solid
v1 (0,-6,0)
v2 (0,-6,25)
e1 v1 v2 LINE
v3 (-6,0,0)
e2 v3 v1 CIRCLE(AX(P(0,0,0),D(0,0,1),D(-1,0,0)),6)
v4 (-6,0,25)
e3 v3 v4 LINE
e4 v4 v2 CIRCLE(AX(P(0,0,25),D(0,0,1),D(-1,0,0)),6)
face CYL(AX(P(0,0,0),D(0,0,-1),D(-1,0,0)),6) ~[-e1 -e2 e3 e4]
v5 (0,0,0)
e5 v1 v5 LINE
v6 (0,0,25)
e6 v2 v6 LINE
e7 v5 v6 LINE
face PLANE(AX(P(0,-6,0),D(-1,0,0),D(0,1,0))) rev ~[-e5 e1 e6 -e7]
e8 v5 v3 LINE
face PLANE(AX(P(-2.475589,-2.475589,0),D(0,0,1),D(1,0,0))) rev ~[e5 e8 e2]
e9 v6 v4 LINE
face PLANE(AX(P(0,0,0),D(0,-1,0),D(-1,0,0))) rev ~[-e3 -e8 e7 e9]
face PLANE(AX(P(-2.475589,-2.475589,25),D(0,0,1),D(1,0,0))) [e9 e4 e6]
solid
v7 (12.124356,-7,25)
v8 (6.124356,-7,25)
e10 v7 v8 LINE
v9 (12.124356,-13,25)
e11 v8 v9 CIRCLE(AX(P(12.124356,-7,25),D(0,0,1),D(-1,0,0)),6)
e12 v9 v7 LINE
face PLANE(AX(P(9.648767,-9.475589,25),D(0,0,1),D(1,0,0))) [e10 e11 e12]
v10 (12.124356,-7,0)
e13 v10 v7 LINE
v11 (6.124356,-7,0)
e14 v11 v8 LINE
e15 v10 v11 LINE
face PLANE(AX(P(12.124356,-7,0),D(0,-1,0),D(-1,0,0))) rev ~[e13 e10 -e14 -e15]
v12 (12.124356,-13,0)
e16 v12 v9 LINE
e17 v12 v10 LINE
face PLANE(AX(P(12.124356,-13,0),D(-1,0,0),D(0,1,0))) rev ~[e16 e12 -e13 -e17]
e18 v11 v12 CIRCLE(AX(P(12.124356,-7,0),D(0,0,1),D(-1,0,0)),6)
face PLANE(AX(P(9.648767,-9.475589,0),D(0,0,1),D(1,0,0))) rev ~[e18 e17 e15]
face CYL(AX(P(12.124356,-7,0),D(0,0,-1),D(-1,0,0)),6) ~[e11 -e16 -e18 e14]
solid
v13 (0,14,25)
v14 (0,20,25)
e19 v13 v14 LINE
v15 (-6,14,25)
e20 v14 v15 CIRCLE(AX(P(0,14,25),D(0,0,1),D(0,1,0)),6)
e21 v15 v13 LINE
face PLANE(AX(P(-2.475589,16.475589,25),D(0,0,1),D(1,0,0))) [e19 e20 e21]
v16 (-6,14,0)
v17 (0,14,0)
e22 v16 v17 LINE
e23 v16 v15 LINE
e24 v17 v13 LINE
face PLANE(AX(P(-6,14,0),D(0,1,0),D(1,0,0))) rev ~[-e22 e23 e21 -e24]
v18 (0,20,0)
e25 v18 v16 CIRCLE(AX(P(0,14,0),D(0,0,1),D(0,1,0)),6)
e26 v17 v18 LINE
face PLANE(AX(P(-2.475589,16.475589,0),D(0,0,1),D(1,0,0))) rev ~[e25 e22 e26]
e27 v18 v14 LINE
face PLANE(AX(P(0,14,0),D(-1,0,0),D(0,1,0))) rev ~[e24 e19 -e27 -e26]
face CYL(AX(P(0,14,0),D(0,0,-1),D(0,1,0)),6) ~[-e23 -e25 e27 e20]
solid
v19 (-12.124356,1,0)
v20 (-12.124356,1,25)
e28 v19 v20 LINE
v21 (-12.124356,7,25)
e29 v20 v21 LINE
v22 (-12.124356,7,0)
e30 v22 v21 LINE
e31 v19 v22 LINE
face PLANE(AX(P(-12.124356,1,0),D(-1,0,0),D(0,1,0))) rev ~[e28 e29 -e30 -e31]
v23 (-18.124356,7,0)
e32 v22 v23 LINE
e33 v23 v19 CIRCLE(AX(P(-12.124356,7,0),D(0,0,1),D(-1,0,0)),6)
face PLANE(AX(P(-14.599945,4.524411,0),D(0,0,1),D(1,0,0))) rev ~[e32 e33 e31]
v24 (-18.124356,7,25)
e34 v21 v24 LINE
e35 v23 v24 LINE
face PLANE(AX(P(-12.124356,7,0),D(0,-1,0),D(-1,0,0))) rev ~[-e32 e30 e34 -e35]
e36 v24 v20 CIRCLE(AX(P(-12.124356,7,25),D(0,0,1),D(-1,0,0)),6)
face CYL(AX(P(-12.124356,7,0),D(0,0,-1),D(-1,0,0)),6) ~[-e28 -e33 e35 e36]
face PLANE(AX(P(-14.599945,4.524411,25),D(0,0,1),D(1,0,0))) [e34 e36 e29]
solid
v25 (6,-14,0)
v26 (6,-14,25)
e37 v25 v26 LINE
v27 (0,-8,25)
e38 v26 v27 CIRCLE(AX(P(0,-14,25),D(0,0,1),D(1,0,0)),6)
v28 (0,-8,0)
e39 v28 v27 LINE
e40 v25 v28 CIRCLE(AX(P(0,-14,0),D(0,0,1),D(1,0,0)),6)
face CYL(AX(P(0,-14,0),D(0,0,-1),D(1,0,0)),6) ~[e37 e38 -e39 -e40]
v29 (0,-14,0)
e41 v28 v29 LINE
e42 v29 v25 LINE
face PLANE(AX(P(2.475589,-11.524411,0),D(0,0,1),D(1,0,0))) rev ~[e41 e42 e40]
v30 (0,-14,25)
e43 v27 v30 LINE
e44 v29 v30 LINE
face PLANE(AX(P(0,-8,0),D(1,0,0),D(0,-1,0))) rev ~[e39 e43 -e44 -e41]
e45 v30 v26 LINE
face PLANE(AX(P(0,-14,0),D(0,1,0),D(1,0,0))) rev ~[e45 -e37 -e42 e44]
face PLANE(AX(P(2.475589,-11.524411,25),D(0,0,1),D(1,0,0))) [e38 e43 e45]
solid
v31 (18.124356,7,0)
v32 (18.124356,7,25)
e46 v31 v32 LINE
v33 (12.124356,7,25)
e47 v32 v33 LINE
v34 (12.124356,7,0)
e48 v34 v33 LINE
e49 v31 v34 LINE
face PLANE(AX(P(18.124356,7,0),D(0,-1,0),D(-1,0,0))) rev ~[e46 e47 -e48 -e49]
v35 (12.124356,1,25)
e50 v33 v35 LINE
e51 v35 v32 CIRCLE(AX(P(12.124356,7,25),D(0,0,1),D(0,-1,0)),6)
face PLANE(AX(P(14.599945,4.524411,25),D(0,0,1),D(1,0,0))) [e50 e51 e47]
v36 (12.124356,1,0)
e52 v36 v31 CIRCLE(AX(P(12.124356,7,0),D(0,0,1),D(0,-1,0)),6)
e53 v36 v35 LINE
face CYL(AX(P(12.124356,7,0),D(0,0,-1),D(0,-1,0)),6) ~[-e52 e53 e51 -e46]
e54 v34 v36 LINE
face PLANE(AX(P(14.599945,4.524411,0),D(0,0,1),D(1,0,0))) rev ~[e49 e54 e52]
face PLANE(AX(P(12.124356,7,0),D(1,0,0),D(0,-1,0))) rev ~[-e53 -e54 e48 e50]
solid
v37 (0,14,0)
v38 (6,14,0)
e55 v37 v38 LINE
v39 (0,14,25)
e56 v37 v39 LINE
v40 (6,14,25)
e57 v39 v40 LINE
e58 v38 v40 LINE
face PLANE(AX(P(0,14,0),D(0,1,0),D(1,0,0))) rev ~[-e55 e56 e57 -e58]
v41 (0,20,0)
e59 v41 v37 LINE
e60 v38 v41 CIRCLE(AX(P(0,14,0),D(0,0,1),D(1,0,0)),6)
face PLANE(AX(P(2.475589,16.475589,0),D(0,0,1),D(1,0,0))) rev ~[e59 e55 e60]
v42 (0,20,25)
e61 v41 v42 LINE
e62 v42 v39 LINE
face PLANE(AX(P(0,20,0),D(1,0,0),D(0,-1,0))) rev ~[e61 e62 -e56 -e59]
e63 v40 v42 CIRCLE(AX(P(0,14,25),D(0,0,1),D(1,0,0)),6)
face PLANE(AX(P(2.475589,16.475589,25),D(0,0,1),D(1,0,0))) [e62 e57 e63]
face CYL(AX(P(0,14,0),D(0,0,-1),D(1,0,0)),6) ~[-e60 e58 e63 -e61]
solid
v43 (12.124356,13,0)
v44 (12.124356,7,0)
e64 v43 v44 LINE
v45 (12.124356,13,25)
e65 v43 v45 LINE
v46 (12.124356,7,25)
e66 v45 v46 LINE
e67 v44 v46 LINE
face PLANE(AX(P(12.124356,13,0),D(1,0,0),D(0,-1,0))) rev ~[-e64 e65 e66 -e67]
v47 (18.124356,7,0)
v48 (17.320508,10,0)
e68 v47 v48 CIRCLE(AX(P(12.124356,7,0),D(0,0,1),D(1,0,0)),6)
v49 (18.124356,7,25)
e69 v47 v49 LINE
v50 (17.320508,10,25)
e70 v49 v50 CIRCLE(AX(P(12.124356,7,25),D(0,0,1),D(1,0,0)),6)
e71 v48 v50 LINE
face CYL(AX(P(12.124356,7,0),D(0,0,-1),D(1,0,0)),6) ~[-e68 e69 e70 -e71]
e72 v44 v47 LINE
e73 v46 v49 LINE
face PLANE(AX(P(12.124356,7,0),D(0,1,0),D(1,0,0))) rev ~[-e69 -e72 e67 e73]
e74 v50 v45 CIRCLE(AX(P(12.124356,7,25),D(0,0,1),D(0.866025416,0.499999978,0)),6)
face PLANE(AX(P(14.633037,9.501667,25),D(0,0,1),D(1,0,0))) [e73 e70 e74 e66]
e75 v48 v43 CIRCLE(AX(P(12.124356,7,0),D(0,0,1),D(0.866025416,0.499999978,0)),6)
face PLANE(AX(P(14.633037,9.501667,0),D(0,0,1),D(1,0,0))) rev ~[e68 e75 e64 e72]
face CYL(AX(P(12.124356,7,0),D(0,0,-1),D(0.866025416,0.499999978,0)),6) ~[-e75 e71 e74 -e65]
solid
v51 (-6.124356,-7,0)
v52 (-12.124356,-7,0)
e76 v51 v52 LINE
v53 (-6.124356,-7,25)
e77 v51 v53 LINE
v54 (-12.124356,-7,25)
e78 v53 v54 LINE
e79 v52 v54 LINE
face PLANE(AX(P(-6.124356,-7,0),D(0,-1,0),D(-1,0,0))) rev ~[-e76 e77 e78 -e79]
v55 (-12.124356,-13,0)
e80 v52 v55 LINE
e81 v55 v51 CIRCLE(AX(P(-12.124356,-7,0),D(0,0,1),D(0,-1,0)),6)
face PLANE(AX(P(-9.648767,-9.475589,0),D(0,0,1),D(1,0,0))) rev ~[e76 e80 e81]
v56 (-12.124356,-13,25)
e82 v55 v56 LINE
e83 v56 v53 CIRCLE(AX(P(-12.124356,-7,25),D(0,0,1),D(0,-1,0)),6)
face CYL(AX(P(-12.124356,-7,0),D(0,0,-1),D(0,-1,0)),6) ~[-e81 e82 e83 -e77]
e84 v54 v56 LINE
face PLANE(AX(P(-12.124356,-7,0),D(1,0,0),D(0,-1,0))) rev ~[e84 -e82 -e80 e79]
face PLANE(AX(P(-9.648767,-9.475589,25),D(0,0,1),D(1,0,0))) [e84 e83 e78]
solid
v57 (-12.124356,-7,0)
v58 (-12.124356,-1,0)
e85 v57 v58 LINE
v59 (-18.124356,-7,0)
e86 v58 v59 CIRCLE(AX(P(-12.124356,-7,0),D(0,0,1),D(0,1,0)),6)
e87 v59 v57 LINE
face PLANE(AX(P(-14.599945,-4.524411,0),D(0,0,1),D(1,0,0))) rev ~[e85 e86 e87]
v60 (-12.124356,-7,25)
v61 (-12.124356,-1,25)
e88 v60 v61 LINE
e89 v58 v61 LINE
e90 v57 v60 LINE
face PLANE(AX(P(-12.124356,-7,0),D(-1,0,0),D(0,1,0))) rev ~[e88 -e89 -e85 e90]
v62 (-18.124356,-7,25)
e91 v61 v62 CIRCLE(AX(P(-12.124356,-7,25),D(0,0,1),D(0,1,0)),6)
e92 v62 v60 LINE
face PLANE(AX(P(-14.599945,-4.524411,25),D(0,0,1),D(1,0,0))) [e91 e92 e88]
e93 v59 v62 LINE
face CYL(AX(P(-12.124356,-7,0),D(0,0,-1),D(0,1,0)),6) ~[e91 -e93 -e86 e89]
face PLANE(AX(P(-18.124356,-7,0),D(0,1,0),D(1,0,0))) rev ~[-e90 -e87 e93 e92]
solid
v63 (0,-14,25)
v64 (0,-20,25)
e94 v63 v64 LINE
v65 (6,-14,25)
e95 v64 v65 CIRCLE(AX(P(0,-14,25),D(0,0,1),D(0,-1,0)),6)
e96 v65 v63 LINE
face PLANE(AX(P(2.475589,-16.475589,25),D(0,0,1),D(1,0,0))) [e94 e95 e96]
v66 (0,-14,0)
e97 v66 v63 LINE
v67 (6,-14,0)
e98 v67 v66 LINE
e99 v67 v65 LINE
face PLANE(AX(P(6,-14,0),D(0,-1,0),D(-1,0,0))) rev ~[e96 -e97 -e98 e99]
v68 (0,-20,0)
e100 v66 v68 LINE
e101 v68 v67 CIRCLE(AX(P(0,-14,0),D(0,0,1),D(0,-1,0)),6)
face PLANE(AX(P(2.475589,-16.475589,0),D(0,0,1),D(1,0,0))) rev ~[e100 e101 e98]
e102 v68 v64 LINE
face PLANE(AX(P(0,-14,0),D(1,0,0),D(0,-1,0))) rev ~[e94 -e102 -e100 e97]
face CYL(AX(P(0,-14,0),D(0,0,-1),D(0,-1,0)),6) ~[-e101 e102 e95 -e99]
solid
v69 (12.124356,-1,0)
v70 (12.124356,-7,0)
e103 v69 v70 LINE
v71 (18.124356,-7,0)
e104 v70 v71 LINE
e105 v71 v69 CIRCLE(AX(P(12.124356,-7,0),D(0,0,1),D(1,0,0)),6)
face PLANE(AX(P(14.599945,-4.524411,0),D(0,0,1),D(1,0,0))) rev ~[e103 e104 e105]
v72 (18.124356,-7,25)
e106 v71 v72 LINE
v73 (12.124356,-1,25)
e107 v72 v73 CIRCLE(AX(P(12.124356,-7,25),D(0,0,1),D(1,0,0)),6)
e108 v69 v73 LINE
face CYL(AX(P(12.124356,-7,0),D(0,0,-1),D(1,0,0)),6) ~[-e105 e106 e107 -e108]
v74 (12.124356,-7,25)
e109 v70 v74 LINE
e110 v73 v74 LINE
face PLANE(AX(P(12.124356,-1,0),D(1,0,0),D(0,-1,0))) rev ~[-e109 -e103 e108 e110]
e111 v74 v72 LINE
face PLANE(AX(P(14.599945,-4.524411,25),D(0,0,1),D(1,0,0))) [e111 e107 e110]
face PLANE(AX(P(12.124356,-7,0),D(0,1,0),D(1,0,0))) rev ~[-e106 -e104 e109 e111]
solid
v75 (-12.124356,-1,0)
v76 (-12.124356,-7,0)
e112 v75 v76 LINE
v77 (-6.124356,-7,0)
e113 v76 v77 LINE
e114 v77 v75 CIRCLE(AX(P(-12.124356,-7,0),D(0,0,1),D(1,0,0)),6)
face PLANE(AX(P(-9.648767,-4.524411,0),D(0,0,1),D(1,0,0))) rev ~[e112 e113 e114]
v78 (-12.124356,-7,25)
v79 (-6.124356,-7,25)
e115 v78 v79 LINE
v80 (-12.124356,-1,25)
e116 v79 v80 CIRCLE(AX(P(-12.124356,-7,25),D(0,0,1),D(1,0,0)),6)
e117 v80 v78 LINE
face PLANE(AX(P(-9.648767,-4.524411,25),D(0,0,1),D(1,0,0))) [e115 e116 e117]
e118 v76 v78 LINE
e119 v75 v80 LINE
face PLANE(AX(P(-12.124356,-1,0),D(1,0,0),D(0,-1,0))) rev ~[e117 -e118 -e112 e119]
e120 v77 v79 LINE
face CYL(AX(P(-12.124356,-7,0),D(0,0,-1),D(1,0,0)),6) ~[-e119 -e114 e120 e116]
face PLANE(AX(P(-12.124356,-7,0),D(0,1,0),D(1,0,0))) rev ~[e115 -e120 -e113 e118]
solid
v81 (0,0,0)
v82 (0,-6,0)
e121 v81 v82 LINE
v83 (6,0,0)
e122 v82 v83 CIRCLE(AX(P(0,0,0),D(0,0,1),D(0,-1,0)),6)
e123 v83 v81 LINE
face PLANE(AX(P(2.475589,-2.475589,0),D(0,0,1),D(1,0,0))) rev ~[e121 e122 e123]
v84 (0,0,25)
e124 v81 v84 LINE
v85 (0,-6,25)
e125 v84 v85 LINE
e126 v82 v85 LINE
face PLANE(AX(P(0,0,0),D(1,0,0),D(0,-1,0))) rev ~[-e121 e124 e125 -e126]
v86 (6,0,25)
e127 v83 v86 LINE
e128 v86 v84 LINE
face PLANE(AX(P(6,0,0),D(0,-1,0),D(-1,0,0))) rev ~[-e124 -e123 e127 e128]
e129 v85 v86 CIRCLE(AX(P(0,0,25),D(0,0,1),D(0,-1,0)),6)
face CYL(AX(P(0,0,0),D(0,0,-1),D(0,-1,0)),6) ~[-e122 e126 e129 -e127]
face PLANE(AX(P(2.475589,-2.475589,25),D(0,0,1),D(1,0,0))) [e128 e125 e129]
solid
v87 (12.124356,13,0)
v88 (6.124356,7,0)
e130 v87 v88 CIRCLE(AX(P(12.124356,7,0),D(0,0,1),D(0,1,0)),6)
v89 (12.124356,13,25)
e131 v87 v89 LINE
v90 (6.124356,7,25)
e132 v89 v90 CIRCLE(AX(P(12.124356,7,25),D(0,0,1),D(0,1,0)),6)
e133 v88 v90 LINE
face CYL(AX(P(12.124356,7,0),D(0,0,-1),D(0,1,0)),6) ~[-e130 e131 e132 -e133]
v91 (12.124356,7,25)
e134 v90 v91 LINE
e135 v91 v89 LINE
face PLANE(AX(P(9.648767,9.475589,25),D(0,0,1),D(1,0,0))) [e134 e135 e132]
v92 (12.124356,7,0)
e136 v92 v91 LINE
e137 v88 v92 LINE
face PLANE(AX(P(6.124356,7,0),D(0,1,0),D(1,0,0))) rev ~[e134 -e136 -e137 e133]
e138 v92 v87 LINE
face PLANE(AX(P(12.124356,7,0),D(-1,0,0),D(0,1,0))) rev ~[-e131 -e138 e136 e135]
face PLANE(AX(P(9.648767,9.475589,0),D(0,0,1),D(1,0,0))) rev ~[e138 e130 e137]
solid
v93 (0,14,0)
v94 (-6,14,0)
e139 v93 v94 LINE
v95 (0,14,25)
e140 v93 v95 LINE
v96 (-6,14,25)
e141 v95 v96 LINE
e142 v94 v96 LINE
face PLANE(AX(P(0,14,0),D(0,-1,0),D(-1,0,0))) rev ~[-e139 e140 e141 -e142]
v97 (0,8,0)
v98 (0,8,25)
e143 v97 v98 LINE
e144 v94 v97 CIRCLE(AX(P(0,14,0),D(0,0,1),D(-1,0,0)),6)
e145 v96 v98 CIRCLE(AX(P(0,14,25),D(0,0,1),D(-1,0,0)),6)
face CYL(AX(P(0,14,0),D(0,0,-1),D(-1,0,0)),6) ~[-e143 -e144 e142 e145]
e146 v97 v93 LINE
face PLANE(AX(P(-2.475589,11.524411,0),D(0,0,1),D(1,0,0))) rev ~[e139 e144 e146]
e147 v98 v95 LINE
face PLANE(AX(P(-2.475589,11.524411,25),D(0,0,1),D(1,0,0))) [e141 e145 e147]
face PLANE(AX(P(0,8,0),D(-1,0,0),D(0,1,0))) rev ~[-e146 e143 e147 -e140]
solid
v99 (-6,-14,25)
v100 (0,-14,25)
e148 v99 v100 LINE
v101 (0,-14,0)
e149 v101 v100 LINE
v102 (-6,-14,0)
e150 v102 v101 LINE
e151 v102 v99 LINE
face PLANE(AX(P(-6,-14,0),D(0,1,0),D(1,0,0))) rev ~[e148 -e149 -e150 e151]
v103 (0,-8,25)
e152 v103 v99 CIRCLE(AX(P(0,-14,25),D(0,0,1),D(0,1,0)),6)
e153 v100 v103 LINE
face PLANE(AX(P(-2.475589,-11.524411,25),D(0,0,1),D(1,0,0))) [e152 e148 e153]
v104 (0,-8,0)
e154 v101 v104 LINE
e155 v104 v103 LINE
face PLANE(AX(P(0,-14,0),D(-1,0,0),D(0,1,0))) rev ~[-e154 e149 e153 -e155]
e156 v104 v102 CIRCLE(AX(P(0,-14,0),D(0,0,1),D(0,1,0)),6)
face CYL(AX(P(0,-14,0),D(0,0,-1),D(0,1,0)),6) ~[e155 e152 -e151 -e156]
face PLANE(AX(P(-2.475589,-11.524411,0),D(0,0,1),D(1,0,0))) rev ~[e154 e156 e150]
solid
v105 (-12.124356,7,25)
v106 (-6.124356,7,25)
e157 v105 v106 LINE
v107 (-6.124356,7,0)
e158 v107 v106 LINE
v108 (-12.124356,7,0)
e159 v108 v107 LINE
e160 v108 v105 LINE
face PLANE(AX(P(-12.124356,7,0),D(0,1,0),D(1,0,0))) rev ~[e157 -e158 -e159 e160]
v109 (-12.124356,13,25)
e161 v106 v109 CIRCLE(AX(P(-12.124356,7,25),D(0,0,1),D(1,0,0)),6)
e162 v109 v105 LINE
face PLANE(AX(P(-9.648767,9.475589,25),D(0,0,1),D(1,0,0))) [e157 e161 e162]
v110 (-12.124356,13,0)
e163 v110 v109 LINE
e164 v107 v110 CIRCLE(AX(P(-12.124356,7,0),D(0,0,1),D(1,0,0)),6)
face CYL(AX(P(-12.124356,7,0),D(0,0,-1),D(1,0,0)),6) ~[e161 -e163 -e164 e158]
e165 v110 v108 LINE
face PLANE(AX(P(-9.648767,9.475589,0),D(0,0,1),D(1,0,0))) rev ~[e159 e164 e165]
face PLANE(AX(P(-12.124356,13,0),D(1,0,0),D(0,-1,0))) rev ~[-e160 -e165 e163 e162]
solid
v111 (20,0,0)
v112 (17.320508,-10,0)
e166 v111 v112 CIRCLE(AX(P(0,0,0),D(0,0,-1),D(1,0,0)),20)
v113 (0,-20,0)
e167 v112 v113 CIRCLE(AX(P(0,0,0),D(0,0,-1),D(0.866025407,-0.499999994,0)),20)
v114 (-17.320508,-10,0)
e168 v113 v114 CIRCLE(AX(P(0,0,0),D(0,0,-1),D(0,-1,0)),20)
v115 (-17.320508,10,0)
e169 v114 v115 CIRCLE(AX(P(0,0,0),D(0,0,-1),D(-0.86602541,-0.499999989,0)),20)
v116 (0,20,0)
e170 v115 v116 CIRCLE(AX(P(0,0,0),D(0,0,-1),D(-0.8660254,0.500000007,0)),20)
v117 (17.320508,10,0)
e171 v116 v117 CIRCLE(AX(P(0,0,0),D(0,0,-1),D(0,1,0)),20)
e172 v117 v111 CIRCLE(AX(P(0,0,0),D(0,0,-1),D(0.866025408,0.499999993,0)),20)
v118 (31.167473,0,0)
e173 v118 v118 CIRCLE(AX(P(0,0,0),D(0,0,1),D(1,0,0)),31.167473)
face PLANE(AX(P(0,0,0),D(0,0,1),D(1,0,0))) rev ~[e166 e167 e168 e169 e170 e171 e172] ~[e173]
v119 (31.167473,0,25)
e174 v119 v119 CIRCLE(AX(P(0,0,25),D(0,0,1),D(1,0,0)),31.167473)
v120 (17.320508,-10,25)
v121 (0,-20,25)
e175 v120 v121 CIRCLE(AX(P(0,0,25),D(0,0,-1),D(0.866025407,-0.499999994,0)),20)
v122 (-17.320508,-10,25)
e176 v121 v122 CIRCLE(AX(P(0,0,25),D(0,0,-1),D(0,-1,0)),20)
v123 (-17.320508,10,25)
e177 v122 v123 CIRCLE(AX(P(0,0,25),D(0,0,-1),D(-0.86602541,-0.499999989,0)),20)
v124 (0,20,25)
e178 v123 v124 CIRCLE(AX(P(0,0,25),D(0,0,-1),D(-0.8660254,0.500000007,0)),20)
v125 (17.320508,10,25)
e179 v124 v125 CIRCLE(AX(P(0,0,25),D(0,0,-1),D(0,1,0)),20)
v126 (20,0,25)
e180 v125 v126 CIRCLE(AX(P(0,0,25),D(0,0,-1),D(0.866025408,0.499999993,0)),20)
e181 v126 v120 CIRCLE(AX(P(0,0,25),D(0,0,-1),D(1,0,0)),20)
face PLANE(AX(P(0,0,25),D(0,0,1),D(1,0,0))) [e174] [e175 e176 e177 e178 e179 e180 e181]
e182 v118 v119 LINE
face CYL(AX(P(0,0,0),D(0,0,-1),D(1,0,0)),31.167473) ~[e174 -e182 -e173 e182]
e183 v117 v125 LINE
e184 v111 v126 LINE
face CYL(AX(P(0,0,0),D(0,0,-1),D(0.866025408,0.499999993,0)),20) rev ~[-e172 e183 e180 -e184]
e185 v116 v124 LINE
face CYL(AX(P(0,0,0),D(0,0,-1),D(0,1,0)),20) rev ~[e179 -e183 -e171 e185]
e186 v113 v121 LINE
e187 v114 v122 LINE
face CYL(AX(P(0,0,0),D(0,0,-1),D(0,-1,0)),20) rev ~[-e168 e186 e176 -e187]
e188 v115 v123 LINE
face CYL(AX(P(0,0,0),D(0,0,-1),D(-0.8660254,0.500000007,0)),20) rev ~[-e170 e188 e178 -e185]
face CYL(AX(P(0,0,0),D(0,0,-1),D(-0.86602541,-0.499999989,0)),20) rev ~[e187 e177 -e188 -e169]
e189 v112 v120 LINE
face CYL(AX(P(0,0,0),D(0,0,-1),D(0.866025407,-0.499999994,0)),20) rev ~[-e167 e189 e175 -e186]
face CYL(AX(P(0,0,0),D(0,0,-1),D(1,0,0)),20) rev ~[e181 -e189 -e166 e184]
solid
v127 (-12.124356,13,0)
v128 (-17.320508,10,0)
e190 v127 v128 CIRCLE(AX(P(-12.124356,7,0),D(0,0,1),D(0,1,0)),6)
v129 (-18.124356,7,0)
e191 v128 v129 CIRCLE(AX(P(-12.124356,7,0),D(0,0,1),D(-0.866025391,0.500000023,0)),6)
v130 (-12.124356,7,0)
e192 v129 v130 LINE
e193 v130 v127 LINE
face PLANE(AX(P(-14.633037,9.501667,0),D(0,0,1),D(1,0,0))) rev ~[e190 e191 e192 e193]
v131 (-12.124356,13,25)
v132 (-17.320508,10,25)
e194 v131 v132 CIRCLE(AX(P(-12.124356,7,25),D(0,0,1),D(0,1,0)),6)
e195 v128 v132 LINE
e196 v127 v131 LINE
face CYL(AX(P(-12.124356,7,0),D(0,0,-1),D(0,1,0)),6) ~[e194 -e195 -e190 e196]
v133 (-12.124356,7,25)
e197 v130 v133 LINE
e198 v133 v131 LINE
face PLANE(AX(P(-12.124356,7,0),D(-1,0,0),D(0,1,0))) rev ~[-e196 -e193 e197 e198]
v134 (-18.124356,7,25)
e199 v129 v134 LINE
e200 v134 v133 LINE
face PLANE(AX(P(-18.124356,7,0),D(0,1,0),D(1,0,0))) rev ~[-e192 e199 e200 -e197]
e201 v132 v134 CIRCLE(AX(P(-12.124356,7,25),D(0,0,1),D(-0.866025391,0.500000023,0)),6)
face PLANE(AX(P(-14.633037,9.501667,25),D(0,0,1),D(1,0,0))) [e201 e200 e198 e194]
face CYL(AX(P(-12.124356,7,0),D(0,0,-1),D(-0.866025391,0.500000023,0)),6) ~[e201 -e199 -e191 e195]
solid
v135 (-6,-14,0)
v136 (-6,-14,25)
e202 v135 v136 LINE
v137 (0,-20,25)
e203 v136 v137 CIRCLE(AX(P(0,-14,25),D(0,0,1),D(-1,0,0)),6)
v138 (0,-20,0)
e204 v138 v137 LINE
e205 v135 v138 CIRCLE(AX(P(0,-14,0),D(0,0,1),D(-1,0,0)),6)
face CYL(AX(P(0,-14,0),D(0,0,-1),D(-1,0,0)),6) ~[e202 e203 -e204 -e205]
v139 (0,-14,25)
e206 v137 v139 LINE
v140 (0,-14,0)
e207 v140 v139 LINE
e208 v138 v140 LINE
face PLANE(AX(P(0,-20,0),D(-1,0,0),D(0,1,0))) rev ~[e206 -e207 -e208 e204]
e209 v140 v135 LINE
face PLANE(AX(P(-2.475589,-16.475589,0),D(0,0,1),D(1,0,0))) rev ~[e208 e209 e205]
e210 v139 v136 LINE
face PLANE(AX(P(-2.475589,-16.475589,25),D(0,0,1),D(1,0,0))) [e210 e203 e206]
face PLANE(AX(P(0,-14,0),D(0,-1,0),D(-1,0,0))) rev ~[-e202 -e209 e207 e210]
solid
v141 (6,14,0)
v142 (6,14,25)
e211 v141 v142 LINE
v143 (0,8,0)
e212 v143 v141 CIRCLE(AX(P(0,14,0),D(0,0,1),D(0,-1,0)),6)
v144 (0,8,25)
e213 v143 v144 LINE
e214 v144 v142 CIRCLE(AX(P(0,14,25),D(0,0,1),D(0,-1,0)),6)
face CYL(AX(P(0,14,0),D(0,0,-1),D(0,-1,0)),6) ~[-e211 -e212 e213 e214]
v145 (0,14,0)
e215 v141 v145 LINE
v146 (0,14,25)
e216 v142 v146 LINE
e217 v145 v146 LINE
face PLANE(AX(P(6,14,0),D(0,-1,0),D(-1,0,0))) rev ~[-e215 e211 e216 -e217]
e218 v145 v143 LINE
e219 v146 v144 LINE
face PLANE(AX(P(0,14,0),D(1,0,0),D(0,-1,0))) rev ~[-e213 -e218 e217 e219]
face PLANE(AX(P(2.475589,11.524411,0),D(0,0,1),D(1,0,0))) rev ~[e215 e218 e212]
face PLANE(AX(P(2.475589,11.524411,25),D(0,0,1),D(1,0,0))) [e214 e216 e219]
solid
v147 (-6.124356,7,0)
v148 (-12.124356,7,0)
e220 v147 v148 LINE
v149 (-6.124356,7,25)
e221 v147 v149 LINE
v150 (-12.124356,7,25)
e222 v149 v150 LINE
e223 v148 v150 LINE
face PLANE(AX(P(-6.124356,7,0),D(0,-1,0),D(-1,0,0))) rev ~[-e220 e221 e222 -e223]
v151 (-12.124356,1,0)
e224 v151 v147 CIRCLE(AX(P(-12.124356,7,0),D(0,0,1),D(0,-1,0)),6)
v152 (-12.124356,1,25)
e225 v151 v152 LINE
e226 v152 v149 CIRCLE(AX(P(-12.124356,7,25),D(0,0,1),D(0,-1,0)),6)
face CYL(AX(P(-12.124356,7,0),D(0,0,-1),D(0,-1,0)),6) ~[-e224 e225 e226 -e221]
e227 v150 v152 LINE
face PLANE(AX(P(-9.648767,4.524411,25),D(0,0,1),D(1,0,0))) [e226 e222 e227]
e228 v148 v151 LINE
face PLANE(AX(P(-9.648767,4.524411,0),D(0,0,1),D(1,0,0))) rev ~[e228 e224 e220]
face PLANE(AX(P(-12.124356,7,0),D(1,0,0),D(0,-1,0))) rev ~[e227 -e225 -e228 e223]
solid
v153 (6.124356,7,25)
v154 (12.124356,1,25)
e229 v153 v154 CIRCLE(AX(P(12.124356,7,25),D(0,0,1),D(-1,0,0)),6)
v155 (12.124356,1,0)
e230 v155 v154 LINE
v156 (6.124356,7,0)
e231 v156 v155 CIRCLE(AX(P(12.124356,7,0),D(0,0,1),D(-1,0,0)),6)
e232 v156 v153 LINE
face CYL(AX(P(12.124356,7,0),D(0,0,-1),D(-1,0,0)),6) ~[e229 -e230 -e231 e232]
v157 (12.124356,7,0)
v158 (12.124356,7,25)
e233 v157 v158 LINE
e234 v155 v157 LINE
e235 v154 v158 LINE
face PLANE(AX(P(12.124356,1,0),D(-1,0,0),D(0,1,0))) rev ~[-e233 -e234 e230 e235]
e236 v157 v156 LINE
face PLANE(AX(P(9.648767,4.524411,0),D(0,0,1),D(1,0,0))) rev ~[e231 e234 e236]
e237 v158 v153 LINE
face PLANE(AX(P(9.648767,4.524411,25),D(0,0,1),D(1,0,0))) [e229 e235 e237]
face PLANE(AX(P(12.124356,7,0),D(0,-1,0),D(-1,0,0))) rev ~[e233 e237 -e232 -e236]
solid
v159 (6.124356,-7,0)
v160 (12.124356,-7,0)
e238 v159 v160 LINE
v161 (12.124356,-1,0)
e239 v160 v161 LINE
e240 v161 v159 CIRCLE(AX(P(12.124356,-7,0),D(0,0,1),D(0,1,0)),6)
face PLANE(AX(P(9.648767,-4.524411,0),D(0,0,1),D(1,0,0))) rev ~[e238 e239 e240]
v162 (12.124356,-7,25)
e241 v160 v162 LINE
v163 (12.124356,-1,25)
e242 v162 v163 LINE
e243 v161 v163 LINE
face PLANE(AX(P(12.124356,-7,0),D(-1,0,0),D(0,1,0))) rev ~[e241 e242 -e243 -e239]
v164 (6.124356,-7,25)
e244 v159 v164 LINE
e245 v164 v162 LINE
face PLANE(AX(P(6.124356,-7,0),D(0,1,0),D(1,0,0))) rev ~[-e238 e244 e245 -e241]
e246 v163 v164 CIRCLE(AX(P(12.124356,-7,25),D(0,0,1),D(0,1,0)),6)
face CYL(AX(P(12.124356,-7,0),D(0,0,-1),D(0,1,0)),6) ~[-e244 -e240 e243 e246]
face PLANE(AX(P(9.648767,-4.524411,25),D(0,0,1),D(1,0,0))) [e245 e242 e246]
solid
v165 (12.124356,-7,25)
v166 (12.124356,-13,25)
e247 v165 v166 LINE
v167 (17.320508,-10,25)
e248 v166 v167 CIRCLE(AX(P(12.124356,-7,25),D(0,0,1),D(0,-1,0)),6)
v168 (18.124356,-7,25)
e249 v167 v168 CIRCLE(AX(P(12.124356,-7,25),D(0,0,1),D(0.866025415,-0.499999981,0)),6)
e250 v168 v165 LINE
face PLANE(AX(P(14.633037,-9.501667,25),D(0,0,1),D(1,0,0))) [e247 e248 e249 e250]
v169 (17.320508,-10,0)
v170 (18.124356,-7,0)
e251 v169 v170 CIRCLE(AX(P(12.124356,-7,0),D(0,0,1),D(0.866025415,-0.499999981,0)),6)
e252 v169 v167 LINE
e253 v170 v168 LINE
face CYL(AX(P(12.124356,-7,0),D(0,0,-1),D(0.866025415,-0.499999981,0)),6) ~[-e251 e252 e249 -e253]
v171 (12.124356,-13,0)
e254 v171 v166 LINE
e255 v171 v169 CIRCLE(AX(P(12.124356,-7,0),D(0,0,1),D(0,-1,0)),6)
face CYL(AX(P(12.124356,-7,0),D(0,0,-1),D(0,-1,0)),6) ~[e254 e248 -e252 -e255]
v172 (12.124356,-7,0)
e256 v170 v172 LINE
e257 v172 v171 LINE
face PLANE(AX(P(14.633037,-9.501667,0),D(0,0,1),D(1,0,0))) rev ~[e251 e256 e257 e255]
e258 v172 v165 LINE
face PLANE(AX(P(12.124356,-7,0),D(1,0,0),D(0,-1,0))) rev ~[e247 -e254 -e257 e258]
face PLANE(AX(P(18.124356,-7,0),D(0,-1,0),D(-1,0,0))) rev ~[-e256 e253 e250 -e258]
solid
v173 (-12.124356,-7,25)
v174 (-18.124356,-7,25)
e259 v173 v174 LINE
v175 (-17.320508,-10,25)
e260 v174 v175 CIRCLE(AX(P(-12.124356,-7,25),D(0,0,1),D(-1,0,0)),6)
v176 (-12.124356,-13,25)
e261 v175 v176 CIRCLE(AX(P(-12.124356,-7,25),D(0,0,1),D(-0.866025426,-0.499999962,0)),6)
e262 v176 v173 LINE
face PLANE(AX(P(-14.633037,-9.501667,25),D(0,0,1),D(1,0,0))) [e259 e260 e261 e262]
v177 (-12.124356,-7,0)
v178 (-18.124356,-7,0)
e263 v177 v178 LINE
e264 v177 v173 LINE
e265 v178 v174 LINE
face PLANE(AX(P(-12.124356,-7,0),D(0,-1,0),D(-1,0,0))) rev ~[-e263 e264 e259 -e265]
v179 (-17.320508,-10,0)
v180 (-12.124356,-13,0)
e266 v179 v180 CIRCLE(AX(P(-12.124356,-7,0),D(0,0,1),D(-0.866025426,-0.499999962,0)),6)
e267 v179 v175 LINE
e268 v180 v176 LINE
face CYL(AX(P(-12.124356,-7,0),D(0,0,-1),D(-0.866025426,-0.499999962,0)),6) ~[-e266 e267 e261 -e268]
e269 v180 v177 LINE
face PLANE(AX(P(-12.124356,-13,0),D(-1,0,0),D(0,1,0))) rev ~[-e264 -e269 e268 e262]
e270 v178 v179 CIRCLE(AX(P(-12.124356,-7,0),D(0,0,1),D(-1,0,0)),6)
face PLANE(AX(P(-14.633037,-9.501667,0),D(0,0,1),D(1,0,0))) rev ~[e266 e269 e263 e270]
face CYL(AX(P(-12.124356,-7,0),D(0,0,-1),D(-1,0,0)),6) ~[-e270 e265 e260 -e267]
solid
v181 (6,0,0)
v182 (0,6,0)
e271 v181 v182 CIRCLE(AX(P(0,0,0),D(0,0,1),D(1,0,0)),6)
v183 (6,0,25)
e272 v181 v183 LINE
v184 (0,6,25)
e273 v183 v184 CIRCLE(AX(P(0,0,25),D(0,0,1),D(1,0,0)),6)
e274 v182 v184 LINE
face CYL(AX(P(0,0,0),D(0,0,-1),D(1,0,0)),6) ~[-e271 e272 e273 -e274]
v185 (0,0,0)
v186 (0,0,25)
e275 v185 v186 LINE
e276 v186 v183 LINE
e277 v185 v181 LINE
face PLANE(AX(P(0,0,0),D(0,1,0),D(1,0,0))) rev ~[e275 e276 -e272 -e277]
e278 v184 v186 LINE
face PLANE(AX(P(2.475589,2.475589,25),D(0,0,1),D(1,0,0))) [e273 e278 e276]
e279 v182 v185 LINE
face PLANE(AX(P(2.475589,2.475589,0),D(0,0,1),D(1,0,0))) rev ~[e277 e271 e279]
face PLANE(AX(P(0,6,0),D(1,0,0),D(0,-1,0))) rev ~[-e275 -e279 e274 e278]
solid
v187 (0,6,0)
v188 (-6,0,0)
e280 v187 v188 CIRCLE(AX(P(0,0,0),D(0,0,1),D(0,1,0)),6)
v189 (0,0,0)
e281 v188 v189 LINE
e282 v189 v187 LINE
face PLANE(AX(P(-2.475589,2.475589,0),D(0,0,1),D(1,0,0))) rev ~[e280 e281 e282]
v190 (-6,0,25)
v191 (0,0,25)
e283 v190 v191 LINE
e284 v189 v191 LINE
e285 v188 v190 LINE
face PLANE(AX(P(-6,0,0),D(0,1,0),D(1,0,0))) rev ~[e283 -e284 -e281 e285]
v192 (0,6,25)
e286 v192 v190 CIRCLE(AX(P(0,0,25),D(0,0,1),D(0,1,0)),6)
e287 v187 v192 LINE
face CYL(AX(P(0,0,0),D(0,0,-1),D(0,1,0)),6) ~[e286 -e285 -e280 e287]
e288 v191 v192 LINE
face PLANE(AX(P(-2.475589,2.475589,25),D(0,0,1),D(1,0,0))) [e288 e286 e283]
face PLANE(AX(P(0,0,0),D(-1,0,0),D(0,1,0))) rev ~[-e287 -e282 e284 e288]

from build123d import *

# Parameters (mm, degrees)
F1_DEPTH = 25
F2_DEPTH = 25
F0_R     = 31.1674729763
F3_DEPTH = 25


with BuildPart() as f1:
    # F0 (on Top) → F1 (new body)
    with BuildSketch(Plane.XY):
        with BuildLine():
            Line((0, -14), (0, -20))
            ThreePointArc((0, -20), (4.2426406871, -18.2426406871), (6, -14))
            Line((6, -14), (0, -14))
        make_face()
    extrude(amount=F1_DEPTH)


with BuildPart() as f1b:
    # F0 (on Top) → F1, piece 2 (new body)
    with BuildSketch(Plane.XY):
        with BuildLine():
            ThreePointArc((0, -8), (-4.2426406871, -9.7573593129), (-6, -14))
            Line((-6, -14), (0, -14))
            Line((0, -14), (0, -8))
        make_face()
    extrude(amount=F1_DEPTH)


with BuildPart() as f1c:
    # F0 (on Top) → F1, piece 3 (new body)
    with BuildSketch(Plane.XY):
        with BuildLine():
            ThreePointArc((-12.124355653, 1), (-7.8817149659, 2.7573593129), (-6.124355653, 7))
            Line((-6.124355653, 7), (-12.124355653, 7))
            Line((-12.124355653, 7), (-12.124355653, 1))
        make_face()
    extrude(amount=F1_DEPTH)


with BuildPart() as f1d:
    # F0 (on Top) → F1, piece 4 (new body)
    with BuildSketch(Plane.XY):
        with BuildLine():
            Line((0, 0), (0, 6))
            ThreePointArc((0, 6), (-4.2426406871, 4.2426406871), (-6, 0))
            Line((-6, 0), (0, 0))
        make_face()
    extrude(amount=F1_DEPTH)


with BuildPart() as f1e:
    # F0 (on Top) → F1, piece 5 (new body)
    with BuildSketch(Plane.XY):
        with BuildLine():
            ThreePointArc((0, -6), (4.2426406871, -4.2426406871), (6, 0))
            Line((6, 0), (0, 0))
            Line((0, 0), (0, -6))
        make_face()
    extrude(amount=F1_DEPTH)


with BuildPart() as f1f:
    # F0 (on Top) → F1, piece 6 (new body)
    with BuildSketch(Plane.XY):
        with BuildLine():
            Line((0, 14), (0, 20))
            ThreePointArc((0, 20), (-4.2426406871, 18.2426406871), (-6, 14))
            Line((-6, 14), (0, 14))
        make_face()
    extrude(amount=F1_DEPTH)


with BuildPart() as f1g:
    # F0 (on Top) → F1, piece 7 (new body)
    with BuildSketch(Plane.XY):
        with BuildLine():
            ThreePointArc((0, 8), (4.2426406871, 9.7573593129), (6, 14))
            Line((6, 14), (0, 14))
            Line((0, 14), (0, 8))
        make_face()
    extrude(amount=F1_DEPTH)


with BuildPart() as f1h:
    # F0 (on Top) → F1, piece 8 (new body)
    with BuildSketch(Plane.XY):
        with BuildLine():
            ThreePointArc((-12.124355653, 13), (-15.1243555847, 12.1961524621), (-17.3205079969, 10.0000001365))
            ThreePointArc((-17.3205079969, 10.0000001365), (-17.9199105903, 8.5529143467), (-18.124355653, 7))
            Line((-18.124355653, 7), (-12.124355653, 7))
            Line((-12.124355653, 7), (-12.124355653, 13))
        make_face()
    extrude(amount=F1_DEPTH)


with BuildPart() as f1i:
    # F0 (on Top) → F1, piece 9 (new body)
    with BuildSketch(Plane.XY):
        with BuildLine():
            Line((-12.124355653, -7), (-12.124355653, -13))
            ThreePointArc((-12.124355653, -13), (-7.8817149659, -11.2426406871), (-6.124355653, -7))
            Line((-6.124355653, -7), (-12.124355653, -7))
        make_face()
    extrude(amount=F1_DEPTH)


with BuildPart() as f1j:
    # F0 (on Top) → F1, piece 10 (new body)
    with BuildSketch(Plane.XY):
        with BuildLine():
            ThreePointArc((-12.124355653, -1), (-16.3669963401, -2.7573593129), (-18.124355653, -7))
            Line((-18.124355653, -7), (-12.124355653, -7))
            Line((-12.124355653, -7), (-12.124355653, -1))
        make_face()
    extrude(amount=F1_DEPTH)


with BuildPart() as f1k:
    # F0 (on Top) → F1, piece 11 (new body)
    with BuildSketch(Plane.XY):
        with BuildLine():
            ThreePointArc((12.124355653, 1), (16.3669963401, 2.7573593129), (18.124355653, 7))
            Line((18.124355653, 7), (12.124355653, 7))
            Line((12.124355653, 7), (12.124355653, 1))
        make_face()
    extrude(amount=F1_DEPTH)


with BuildPart() as f1l:
    # F0 (on Top) → F1, piece 12 (new body)
    with BuildSketch(Plane.XY):
        with BuildLine():
            ThreePointArc((12.124355653, -13), (15.1243557101, -12.1961523897), (17.3205081416, -9.9999998858))
            ThreePointArc((17.3205081416, -9.9999998858), (17.9199106278, -8.5529142069), (18.124355653, -7))
            Line((18.124355653, -7), (12.124355653, -7))
            Line((12.124355653, -7), (12.124355653, -13))
        make_face()
    extrude(amount=F1_DEPTH)


with BuildPart() as f1m:
    # F0 (on Top) → F1, piece 13 (new body)
    with BuildSketch(Plane.XY):
        with BuildLine():
            ThreePointArc((12.124355653, -1), (7.8817149659, -2.7573593129), (6.124355653, -7))
            Line((6.124355653, -7), (12.124355653, -7))
            Line((12.124355653, -7), (12.124355653, -1))
        make_face()
    extrude(amount=F1_DEPTH)


with BuildPart() as f1n:
    # F0 (on Top) → F1, piece 14 (new body)
    with BuildSketch(Plane.XY):
        with BuildLine():
            Line((12.124355653, 7), (12.124355653, 13))
            ThreePointArc((12.124355653, 13), (7.8817149659, 11.2426406871), (6.124355653, 7))
            Line((6.124355653, 7), (12.124355653, 7))
        make_face()
    extrude(amount=F1_DEPTH)


with BuildPart() as f2:
    # F0 (on Top) → F2 (new body)
    with BuildSketch(Plane.XY):
        with BuildLine():
            Line((-12.124355653, 7), (-18.124355653, 7))
            ThreePointArc((-18.124355653, 7), (-16.3669963401, 2.7573593129), (-12.124355653, 1))
            Line((-12.124355653, 1), (-12.124355653, 7))
        make_face()
    extrude(amount=F2_DEPTH)


with BuildPart() as f2b:
    # F0 (on Top) → F2, piece 2 (new body)
    with BuildSketch(Plane.XY):
        with BuildLine():
            ThreePointArc((-6.124355653, 7), (-7.8817149659, 11.2426406871), (-12.124355653, 13))
            Line((-12.124355653, 13), (-12.124355653, 7))
            Line((-12.124355653, 7), (-6.124355653, 7))
        make_face()
    extrude(amount=F2_DEPTH)


with BuildPart() as f2c:
    # F0 (on Top) → F2, piece 3 (new body)
    with BuildSketch(Plane.XY):
        with BuildLine():
            ThreePointArc((6, 14), (4.2426406871, 18.2426406871), (0, 20))
            Line((0, 20), (0, 14))
            Line((0, 14), (6, 14))
        make_face()
    extrude(amount=F2_DEPTH)


with BuildPart() as f2d:
    # F0 (on Top) → F2, piece 4 (new body)
    with BuildSketch(Plane.XY):
        with BuildLine():
            Line((0, 14), (-6, 14))
            ThreePointArc((-6, 14), (-4.2426406871, 9.7573593129), (0, 8))
            Line((0, 8), (0, 14))
        make_face()
    extrude(amount=F2_DEPTH)


with BuildPart() as f2e:
    # F0 (on Top) → F2, piece 5 (new body)
    with BuildSketch(Plane.XY):
        with BuildLine():
            Line((0, 0), (6, 0))
            ThreePointArc((6, 0), (4.2426406871, 4.2426406871), (0, 6))
            Line((0, 6), (0, 0))
        make_face()
    extrude(amount=F2_DEPTH)


with BuildPart() as f2f:
    # F0 (on Top) → F2, piece 6 (new body)
    with BuildSketch(Plane.XY):
        with BuildLine():
            ThreePointArc((-6, 0), (-4.2426406871, -4.2426406871), (0, -6))
            Line((0, -6), (0, 0))
            Line((0, 0), (-6, 0))
        make_face()
    extrude(amount=F2_DEPTH)


with BuildPart() as f2g:
    # F0 (on Top) → F2, piece 7 (new body)
    with BuildSketch(Plane.XY):
        with BuildLine():
            ThreePointArc((18.124355653, 7), (17.9199106302, 8.5529141978), (17.3205081511, 9.9999998694))
            ThreePointArc((17.3205081511, 9.9999998694), (15.1243557183, 12.196152385), (12.124355653, 13))
            Line((12.124355653, 13), (12.124355653, 7))
            Line((12.124355653, 7), (18.124355653, 7))
        make_face()
    extrude(amount=F2_DEPTH)


with BuildPart() as f2h:
    # F0 (on Top) → F2, piece 8 (new body)
    with BuildSketch(Plane.XY):
        with BuildLine():
            ThreePointArc((6.124355653, -7), (7.8817149659, -11.2426406871), (12.124355653, -13))
            Line((12.124355653, -13), (12.124355653, -7))
            Line((12.124355653, -7), (6.124355653, -7))
        make_face()
    extrude(amount=F2_DEPTH)


with BuildPart() as f2i:
    # F0 (on Top) → F2, piece 9 (new body)
    with BuildSketch(Plane.XY):
        with BuildLine():
            Line((12.124355653, -7), (18.124355653, -7))
            ThreePointArc((18.124355653, -7), (16.3669963401, -2.7573593129), (12.124355653, -1))
            Line((12.124355653, -1), (12.124355653, -7))
        make_face()
    extrude(amount=F2_DEPTH)


with BuildPart() as f2j:
    # F0 (on Top) → F2, piece 10 (new body)
    with BuildSketch(Plane.XY):
        with BuildLine():
            Line((0, -14), (6, -14))
            ThreePointArc((6, -14), (4.2426406871, -9.7573593129), (0, -8))
            Line((0, -8), (0, -14))
        make_face()
    extrude(amount=F2_DEPTH)


with BuildPart() as f2k:
    # F0 (on Top) → F2, piece 11 (new body)
    with BuildSketch(Plane.XY):
        with BuildLine():
            ThreePointArc((-6, -14), (-4.2426406871, -18.2426406871), (0, -20))
            Line((0, -20), (0, -14))
            Line((0, -14), (-6, -14))
        make_face()
    extrude(amount=F2_DEPTH)


with BuildPart() as f2l:
    # F0 (on Top) → F2, piece 12 (new body)
    with BuildSketch(Plane.XY):
        with BuildLine():
            ThreePointArc((-18.124355653, -7), (-17.9199106445, -8.5529141443), (-17.3205082064, -9.9999997736))
            ThreePointArc((-17.3205082064, -9.9999997736), (-15.1243557662, -12.1961523573), (-12.124355653, -13))
            Line((-12.124355653, -13), (-12.124355653, -7))
            Line((-12.124355653, -7), (-18.124355653, -7))
        make_face()
    extrude(amount=F2_DEPTH)


with BuildPart() as f2m:
    # F0 (on Top) → F2, piece 13 (new body)
    with BuildSketch(Plane.XY):
        with BuildLine():
            ThreePointArc((-6.124355653, -7), (-7.8817149659, -2.7573593129), (-12.124355653, -1))
            Line((-12.124355653, -1), (-12.124355653, -7))
            Line((-12.124355653, -7), (-6.124355653, -7))
        make_face()
    extrude(amount=F2_DEPTH)


with BuildPart() as f2n:
    # F0 (on Top) → F2, piece 14 (new body)
    with BuildSketch(Plane.XY):
        with BuildLine():
            ThreePointArc((6.124355653, 7), (7.8817149659, 2.7573593129), (12.124355653, 1))
            Line((12.124355653, 1), (12.124355653, 7))
            Line((12.124355653, 7), (6.124355653, 7))
        make_face()
    extrude(amount=F2_DEPTH)


with BuildPart() as f3:
    # F0 (on Top) → F3 (new body)
    with BuildSketch(Plane.XY):
        Circle(F0_R)
        with BuildLine():
            ThreePointArc((17.3205081511, 9.9999998694), (19.3185165453, 5.1763808292), (20, 0))
            ThreePointArc((20, 0), (19.3185165429, -5.1763808383), (17.3205081416, -9.9999998858))
            ThreePointArc((17.3205081416, -9.9999998858), (10.0000000571, -17.3205080427), (0, -20))
            ThreePointArc((0, -20), (-10.0000001132, -17.3205080103), (-17.3205082064, -9.9999997736))
            ThreePointArc((-17.3205082064, -9.9999997736), (-20, 2.095e-07), (-17.3205079969, 10.0000001365))
            ThreePointArc((-17.3205079969, 10.0000001365), (-9.9999999318, 17.3205081151), (0, 20))
            ThreePointArc((0, 20), (10.0000000653, 17.320508038), (17.3205081511, 9.9999998694))
        make_face(mode=Mode.SUBTRACT)
    extrude(amount=F3_DEPTH)


solid = Compound([f1.part, f1b.part, f1c.part, f1d.part, f1e.part, f1f.part, f1g.part, f1h.part, f1i.part, f1j.part, f1k.part, f1l.part, f1m.part, f1n.part, f2.part, f2b.part, f2c.part, f2d.part, f2e.part, f2f.part, f2g.part, f2h.part, f2i.part, f2j.part, f2k.part, f2l.part, f2m.part, f2n.part, f3.part])
